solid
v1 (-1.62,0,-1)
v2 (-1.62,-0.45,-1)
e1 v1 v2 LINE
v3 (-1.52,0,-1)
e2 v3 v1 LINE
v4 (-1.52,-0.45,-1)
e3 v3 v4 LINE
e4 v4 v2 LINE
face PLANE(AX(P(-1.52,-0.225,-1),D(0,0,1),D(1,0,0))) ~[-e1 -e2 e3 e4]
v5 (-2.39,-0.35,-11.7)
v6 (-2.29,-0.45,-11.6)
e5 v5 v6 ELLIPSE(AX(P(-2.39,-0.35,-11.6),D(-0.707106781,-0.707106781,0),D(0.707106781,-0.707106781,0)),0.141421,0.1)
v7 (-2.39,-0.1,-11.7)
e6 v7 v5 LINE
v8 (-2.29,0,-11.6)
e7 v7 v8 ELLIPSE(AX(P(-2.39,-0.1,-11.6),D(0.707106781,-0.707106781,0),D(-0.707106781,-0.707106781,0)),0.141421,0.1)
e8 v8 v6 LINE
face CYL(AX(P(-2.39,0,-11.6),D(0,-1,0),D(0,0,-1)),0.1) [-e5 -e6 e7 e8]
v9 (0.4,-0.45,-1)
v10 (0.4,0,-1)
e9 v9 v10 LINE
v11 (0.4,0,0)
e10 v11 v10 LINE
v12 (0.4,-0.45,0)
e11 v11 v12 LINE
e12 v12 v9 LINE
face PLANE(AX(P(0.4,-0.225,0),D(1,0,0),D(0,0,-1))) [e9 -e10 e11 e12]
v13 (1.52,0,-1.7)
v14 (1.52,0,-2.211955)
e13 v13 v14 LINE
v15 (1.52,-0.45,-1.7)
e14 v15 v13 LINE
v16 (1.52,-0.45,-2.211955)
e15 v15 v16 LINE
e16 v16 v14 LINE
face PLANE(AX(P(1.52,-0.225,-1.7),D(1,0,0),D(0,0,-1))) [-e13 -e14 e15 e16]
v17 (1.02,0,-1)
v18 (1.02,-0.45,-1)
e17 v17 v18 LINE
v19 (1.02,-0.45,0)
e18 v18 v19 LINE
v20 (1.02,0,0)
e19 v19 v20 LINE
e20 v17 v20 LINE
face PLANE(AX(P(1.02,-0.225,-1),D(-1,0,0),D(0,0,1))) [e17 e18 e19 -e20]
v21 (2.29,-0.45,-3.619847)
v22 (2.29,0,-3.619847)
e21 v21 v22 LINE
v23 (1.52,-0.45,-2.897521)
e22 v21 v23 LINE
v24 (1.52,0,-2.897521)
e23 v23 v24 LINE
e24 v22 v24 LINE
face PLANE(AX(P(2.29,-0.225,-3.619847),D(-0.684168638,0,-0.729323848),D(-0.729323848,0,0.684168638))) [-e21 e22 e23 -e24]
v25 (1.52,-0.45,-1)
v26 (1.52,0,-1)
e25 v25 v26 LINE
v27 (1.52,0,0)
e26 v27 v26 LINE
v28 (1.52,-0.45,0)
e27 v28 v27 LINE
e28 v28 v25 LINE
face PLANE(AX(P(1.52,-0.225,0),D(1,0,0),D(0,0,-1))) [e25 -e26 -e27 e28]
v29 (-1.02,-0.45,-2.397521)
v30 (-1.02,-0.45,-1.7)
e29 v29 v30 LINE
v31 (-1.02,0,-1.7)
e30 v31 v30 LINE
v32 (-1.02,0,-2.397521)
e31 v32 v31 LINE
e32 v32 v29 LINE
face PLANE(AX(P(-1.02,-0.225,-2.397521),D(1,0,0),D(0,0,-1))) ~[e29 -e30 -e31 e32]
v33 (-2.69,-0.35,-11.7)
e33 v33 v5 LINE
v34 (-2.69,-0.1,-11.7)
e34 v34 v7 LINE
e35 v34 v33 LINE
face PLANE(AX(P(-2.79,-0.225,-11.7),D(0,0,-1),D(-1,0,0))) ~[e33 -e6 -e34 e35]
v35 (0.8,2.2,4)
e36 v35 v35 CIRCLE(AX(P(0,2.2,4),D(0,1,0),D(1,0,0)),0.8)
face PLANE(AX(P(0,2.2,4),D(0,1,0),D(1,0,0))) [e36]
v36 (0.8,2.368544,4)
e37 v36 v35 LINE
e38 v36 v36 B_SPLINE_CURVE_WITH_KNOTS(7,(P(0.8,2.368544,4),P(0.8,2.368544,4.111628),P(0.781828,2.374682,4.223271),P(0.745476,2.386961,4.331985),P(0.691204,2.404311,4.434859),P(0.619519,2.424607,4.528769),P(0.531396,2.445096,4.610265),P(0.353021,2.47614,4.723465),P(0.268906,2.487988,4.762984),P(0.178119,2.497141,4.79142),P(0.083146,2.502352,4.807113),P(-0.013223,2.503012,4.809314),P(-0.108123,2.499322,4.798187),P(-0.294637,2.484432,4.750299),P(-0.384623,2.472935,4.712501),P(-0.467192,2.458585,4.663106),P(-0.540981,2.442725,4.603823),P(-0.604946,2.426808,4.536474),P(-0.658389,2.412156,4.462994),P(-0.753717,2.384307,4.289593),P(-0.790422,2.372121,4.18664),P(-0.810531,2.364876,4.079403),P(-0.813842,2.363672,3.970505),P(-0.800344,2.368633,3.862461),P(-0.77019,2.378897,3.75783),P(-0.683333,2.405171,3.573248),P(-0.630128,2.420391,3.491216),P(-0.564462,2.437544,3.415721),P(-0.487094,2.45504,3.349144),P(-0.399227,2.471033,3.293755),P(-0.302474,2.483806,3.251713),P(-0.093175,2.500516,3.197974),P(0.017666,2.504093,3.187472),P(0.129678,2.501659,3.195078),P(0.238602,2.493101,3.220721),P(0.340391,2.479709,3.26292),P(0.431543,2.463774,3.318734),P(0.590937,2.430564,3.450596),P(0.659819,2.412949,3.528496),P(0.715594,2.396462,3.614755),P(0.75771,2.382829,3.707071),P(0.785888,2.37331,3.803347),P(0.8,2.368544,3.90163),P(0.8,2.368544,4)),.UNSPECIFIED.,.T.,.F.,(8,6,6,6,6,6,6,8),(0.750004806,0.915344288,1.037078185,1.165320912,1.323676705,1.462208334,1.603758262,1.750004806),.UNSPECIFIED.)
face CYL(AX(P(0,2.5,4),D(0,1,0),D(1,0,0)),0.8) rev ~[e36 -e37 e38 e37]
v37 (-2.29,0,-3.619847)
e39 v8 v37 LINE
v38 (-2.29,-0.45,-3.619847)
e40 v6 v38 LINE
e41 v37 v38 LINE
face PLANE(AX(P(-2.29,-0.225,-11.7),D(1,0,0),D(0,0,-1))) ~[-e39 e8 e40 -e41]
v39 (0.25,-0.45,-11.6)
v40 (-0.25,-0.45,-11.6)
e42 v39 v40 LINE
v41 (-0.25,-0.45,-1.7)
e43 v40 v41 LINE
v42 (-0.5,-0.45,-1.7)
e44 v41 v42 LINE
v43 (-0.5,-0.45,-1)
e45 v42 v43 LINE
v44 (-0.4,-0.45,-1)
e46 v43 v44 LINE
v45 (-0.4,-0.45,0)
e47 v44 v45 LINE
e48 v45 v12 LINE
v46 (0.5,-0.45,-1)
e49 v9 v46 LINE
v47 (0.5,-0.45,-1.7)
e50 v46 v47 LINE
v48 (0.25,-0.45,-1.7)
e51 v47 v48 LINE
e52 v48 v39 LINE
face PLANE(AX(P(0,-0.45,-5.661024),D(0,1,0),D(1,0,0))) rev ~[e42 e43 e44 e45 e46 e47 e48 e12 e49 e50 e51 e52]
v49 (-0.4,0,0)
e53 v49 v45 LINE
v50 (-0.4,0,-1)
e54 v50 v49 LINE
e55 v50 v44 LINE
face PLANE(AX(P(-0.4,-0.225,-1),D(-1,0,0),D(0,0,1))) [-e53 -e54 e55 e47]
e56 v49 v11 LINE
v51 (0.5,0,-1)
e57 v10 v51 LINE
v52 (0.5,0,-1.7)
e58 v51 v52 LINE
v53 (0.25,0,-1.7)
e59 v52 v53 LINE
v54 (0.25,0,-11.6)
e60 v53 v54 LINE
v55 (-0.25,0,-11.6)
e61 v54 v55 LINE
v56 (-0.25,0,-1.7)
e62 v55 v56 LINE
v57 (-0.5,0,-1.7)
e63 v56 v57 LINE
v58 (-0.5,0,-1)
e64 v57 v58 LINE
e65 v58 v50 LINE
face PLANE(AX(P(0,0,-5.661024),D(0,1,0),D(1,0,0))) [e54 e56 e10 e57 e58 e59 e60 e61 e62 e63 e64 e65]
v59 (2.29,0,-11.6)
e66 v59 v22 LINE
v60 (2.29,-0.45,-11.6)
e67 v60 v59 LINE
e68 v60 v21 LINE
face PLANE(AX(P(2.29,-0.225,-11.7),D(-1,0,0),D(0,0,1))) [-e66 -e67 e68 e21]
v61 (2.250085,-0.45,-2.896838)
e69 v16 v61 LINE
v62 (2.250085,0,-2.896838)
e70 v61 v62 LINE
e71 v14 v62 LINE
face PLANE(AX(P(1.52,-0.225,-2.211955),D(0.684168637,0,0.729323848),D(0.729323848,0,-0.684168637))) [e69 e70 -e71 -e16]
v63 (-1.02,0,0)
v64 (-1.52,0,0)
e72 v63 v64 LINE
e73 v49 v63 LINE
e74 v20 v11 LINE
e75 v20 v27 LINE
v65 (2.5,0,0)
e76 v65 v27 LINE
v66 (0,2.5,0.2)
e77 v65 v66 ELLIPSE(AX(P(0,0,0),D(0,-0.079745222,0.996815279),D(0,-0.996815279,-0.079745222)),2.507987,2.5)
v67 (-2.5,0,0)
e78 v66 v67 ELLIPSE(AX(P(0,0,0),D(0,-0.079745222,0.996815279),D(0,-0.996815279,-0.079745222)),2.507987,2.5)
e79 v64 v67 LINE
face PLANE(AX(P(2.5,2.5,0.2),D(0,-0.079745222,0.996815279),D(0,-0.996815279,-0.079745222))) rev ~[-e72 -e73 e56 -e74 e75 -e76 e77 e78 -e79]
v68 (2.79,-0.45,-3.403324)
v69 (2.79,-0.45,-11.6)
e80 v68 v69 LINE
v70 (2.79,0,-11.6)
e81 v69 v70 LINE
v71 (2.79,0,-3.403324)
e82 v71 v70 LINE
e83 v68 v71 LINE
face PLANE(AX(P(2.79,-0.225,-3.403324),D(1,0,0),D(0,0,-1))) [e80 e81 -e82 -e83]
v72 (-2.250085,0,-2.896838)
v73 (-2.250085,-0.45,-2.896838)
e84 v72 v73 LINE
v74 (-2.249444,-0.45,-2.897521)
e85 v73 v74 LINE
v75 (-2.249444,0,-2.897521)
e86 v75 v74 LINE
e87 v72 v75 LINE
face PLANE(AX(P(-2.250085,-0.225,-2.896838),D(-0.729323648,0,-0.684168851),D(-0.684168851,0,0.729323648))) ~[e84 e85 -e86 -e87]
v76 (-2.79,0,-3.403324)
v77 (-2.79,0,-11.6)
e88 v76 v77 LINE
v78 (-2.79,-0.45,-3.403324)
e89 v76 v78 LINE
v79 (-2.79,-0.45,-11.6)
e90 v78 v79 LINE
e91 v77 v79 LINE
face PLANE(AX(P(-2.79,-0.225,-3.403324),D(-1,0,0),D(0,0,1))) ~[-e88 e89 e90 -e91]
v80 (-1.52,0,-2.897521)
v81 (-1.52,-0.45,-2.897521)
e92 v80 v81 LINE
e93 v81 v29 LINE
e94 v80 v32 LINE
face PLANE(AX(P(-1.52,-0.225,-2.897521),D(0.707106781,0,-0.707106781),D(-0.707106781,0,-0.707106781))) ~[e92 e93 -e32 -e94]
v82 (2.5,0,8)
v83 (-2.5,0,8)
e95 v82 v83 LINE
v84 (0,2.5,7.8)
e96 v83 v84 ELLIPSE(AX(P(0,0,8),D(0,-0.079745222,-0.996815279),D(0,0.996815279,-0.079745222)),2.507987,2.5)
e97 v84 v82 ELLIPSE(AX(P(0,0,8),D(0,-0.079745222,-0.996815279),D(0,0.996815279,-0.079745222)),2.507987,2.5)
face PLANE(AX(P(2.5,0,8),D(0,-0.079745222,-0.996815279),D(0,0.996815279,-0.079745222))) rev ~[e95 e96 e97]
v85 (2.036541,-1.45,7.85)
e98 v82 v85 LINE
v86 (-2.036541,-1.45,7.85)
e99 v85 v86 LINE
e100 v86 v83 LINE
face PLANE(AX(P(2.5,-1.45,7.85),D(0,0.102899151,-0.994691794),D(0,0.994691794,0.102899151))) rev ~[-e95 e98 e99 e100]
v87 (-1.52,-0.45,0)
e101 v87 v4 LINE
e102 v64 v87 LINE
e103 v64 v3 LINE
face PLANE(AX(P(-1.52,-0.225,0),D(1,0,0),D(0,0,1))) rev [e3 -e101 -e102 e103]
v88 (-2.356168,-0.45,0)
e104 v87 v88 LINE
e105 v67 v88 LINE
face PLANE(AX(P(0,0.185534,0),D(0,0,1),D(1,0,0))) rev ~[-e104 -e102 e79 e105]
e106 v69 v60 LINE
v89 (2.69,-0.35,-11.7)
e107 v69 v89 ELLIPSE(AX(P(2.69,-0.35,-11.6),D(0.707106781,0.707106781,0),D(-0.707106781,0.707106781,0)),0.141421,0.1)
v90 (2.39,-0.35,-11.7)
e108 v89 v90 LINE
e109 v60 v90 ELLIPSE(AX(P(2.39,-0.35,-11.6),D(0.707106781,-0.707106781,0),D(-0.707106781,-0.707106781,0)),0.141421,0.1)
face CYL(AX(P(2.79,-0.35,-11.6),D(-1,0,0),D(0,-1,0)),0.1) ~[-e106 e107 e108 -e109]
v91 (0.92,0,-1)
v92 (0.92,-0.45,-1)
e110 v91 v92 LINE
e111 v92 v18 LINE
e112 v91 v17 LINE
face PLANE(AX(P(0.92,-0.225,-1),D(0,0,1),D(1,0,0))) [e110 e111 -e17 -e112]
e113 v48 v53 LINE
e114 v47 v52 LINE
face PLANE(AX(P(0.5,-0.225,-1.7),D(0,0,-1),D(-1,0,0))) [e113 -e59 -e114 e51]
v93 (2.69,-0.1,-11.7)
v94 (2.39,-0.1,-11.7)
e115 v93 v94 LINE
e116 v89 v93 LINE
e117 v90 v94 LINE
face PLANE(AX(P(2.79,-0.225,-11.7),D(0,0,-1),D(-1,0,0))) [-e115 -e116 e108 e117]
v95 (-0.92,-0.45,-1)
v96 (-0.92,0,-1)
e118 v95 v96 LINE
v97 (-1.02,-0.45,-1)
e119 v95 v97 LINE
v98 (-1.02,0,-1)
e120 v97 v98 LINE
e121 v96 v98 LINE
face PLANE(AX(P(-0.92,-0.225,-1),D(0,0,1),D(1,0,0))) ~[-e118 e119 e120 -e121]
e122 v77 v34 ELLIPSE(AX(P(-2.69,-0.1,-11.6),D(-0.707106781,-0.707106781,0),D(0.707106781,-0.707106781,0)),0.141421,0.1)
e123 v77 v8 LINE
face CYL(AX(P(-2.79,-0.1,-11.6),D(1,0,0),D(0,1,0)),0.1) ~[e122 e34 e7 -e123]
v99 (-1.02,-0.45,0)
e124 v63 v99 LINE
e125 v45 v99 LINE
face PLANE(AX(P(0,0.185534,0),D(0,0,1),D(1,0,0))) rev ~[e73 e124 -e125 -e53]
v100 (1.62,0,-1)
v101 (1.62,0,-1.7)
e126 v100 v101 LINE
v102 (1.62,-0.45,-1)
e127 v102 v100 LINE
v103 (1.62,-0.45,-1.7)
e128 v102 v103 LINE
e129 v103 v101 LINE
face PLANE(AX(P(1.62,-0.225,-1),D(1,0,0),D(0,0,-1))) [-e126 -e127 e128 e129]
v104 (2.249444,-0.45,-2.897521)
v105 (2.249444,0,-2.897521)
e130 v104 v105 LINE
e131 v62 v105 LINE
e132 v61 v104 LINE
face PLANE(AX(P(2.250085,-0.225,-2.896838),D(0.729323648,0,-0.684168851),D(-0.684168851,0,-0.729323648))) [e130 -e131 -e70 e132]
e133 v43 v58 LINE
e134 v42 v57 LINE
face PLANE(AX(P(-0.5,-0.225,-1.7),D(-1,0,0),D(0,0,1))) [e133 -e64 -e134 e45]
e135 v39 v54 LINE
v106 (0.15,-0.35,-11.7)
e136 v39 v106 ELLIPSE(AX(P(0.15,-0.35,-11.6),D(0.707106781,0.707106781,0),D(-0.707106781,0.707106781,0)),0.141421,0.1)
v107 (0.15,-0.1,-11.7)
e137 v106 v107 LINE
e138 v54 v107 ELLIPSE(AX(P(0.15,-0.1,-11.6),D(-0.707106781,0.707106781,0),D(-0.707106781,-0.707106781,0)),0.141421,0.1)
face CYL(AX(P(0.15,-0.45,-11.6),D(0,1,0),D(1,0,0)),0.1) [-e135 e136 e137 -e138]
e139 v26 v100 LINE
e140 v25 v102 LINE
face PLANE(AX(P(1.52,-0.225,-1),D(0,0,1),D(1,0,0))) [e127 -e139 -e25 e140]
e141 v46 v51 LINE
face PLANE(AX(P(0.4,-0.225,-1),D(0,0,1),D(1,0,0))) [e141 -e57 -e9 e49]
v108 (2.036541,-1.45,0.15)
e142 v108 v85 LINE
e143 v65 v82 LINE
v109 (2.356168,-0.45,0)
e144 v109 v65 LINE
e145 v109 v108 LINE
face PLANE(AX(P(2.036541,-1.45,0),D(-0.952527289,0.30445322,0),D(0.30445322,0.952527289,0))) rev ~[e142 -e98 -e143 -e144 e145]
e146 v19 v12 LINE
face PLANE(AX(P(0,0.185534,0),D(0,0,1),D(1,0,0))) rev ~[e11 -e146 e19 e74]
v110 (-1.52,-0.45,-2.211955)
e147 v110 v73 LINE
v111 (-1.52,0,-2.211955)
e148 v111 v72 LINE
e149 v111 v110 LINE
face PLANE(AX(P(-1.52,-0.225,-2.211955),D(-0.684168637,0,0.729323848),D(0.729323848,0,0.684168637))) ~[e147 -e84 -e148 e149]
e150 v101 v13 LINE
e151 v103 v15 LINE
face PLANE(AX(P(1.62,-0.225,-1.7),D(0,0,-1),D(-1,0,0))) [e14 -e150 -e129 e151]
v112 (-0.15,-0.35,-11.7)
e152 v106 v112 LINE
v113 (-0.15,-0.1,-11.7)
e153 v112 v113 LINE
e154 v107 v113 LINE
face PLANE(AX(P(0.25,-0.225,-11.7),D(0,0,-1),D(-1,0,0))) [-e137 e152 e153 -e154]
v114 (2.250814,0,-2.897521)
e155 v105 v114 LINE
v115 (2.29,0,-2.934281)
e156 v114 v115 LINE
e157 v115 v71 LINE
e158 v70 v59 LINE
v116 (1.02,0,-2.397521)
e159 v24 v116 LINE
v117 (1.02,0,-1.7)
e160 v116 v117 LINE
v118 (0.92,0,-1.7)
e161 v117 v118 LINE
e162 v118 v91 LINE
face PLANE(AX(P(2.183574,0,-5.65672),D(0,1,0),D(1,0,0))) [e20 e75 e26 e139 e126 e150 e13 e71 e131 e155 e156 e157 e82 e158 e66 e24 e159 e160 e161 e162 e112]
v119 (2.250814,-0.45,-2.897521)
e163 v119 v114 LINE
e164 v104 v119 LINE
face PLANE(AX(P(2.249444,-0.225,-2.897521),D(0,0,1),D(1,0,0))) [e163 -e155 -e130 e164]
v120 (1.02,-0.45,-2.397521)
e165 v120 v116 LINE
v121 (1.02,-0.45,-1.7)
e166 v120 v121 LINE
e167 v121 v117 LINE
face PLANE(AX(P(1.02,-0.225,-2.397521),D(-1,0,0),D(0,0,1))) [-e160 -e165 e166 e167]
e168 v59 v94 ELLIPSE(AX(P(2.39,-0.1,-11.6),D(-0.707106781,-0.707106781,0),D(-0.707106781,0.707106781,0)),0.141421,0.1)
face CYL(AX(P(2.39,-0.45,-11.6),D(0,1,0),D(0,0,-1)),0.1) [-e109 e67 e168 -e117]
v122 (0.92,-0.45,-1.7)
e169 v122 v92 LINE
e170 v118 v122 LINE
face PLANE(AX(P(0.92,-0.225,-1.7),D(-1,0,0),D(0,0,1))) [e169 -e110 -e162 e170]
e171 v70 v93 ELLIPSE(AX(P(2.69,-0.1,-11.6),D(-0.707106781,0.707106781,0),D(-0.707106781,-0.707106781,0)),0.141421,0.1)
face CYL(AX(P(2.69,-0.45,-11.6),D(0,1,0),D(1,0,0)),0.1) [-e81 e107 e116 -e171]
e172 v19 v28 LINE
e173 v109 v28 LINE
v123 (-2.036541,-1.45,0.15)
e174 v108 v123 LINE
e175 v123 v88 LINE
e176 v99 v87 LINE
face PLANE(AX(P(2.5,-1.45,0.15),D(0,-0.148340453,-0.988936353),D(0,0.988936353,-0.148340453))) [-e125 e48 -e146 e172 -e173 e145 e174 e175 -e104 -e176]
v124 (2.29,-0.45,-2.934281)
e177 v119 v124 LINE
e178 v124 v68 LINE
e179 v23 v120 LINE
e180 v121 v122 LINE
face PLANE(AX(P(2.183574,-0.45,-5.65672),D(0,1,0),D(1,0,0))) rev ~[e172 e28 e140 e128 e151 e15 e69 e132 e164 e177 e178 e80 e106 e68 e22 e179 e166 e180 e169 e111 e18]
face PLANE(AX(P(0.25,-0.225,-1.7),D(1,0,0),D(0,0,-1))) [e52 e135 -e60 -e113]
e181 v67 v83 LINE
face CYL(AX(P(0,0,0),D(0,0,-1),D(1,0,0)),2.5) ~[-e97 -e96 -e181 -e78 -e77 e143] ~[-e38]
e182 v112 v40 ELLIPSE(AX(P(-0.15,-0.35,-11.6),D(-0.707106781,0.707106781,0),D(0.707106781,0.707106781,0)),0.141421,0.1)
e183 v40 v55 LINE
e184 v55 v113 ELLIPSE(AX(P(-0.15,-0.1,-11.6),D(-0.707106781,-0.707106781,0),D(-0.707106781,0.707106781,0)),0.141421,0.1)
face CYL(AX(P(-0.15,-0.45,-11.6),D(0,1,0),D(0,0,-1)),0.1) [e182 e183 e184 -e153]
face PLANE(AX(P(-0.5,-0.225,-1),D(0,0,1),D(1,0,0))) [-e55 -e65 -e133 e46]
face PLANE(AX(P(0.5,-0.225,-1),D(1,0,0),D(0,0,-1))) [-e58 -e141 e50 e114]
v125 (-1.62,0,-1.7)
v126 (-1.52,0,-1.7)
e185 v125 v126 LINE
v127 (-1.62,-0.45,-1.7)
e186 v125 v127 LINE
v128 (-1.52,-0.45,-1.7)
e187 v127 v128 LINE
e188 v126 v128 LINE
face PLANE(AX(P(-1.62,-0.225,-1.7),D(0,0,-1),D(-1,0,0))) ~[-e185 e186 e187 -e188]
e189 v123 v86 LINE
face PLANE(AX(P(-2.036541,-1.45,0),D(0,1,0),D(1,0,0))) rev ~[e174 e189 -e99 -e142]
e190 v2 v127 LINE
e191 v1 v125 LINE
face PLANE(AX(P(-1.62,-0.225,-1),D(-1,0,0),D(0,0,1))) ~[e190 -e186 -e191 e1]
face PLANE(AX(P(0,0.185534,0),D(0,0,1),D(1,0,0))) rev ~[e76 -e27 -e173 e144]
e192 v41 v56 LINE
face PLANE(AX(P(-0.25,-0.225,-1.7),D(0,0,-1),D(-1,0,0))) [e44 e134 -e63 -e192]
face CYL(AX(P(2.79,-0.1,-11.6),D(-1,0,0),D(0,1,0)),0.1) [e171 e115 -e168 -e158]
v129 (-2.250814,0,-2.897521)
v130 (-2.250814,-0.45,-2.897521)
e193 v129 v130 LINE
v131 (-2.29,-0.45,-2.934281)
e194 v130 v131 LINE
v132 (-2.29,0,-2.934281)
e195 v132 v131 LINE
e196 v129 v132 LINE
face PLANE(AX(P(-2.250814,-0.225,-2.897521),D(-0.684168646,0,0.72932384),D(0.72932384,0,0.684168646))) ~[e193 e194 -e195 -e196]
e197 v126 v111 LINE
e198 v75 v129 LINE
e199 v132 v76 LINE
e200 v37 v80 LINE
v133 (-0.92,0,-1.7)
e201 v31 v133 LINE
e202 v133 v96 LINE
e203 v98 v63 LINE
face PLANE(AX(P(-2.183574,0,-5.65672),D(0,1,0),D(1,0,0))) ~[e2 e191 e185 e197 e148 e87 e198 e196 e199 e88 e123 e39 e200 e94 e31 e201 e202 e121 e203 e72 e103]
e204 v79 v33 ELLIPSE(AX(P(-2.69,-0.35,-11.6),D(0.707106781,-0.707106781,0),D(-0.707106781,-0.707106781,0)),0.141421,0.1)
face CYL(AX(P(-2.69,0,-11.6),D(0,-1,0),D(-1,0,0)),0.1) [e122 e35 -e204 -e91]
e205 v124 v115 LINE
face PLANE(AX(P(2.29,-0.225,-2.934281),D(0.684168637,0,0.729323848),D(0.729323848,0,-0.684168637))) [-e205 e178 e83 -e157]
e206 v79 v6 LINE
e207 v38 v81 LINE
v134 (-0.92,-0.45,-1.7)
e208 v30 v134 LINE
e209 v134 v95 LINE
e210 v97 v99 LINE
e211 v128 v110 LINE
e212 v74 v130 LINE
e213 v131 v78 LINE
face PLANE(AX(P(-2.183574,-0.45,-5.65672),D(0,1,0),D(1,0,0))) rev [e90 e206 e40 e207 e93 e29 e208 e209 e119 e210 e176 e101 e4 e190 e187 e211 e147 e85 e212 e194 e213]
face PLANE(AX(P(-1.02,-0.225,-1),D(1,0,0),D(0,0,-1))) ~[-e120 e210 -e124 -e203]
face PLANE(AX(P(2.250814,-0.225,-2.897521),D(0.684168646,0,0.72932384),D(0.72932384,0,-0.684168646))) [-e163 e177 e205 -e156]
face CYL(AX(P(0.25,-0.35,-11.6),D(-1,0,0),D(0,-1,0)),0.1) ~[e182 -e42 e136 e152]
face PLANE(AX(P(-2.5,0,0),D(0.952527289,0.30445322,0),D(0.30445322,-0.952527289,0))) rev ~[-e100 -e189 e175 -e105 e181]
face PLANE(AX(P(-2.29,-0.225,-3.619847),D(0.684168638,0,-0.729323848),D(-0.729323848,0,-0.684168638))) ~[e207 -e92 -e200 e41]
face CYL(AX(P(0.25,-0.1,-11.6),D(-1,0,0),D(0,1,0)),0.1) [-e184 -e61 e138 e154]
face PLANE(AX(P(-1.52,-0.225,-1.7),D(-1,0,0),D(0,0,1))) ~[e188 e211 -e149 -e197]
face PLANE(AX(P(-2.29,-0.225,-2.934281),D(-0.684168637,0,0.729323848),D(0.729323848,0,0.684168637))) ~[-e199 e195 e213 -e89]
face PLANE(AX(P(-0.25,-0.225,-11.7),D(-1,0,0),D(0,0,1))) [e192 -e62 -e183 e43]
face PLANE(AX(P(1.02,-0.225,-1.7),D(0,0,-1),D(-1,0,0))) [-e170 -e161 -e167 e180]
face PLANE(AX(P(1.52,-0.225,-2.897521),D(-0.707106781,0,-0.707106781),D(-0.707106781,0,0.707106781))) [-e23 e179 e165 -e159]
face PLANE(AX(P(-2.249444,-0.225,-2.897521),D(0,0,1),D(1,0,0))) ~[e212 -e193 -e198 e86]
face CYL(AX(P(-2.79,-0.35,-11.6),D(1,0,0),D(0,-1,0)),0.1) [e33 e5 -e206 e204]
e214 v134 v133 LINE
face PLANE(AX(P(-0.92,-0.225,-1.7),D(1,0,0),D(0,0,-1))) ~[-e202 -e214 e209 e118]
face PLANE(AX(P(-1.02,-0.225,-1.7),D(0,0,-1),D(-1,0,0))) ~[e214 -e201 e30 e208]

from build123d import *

# Parameters (mm, degrees)
BOSS_EXTRUDE2_DEPTH = 8
BOSS_EXTRUDE3_DEPTH = 0.225
BOSS_EXTRUDE4_DEPTH = 0.225
BOSS_EXTRUDE7_DEPTH = 0.225
BOSS_EXTRUDE8_DEPTH = 0.225
CUT_EXTRUDE1_DEPTH  = 5
CUT_EXTRUDE2_DEPTH  = 5
CUT_EXTRUDE3_DEPTH  = 5
CUT_EXTRUDE7_DEPTH  = 5
FILLET2_R           = 0.1
SKETCH13_R          = 0.8
CUT_EXTRUDE8_DEPTH  = 0.3


with BuildPart() as part:
    # Sketch1 → Boss-Extrude2 (new body)
    with BuildSketch(Plane.XY):
        with BuildLine():
            Line((-2.036541185, -1.45), (2.036541185, -1.45))
            Line((2.036541185, -1.45), (2.5, 0))
            ThreePointArc((2.5, 0), (0, 2.5), (-2.5, 0))
            Line((-2.5, 0), (-2.036541185, -1.45))
        make_face()
    extrude(amount=BOSS_EXTRUDE2_DEPTH)

    # Sketch3 → Boss-Extrude3 (add)
    with BuildSketch(Plane(origin=(0, -0.225, 0), x_dir=(1, 0, 0), z_dir=(0, 1, 0))):
        Polygon((-0.4, 0), (0.4, 0), (0.4, 1), (0.5, 1), (0.5, 1.7), (0.25, 1.7), (0.25, 11.7), (-0.25, 11.7), (-0.25, 1.7), (-0.5, 1.7), (-0.5, 1), (-0.4, 1), align=None)
    extrude(amount=BOSS_EXTRUDE3_DEPTH)

    # Sketch3<3> → Boss-Extrude4 (add)
    with BuildSketch(Plane(origin=(0, -0.225, 0), x_dir=(1, 0, 0), z_dir=(0, 1, 0))):
        Polygon((-0.4, 0), (0.4, 0), (0.4, 1), (0.5, 1), (0.5, 1.7), (0.25, 1.7), (0.25, 11.7), (-0.25, 11.7), (-0.25, 1.7), (-0.5, 1.7), (-0.5, 1), (-0.4, 1), align=None)
    extrude(amount=-BOSS_EXTRUDE4_DEPTH)

    # Sketch7 → Boss-Extrude7 (add)
    with BuildSketch(Plane(origin=(0, -0.225, 0), x_dir=(1, 0, 0), z_dir=(0, 1, 0))):
        Polygon((1.02, 1), (1.02, 0), (1.27, 0), (1.52, 0), (1.52, 1), (1.62, 1), (1.62, 1.7), (1.52, 1.7), (1.52, 2.211954512), (2.250085443, 2.896837591), (2.249444332, 2.897521015), (2.250813973, 2.897521015), (2.29, 2.934280887), (2.79, 3.403323987), (2.79, 4.08889049), (2.79, 11.7), (2.29, 11.7), (2.29, 3.61984739), (1.52, 2.897521015), (1.02, 2.397521015), (1.02, 2.211954512), (1.02, 1.7), (0.92, 1.7), (0.92, 1), align=None)
    boss_extrude7 = extrude(amount=BOSS_EXTRUDE7_DEPTH)

    # Sketch7<7> → Boss-Extrude8 (add)
    with BuildSketch(Plane(origin=(0, -0.225, 0), x_dir=(1, 0, 0), z_dir=(0, 1, 0))):
        Polygon((1.02, 1), (1.02, 0), (1.27, 0), (1.52, 0), (1.52, 1), (1.62, 1), (1.62, 1.7), (1.52, 1.7), (1.52, 2.211954512), (2.250085443, 2.896837591), (2.249444332, 2.897521015), (2.250813973, 2.897521015), (2.29, 2.934280887), (2.79, 3.403323987), (2.79, 4.08889049), (2.79, 11.7), (2.29, 11.7), (2.29, 3.61984739), (1.52, 2.897521015), (1.02, 2.397521015), (1.02, 2.211954512), (1.02, 1.7), (0.92, 1.7), (0.92, 1), align=None)
    boss_extrude8 = extrude(amount=-BOSS_EXTRUDE8_DEPTH)

    # Mirror2: Boss-Extrude7, Boss-Extrude8 across plane
    add(boss_extrude7.mirror(Plane(origin=(0, 0, 0), x_dir=(0, 0, 1), z_dir=(1, 0, 0))))
    add(boss_extrude8.mirror(Plane(origin=(0, 0, 0), x_dir=(0, 0, 1), z_dir=(1, 0, 0))))

    # Sketch9 → Cut-Extrude1 (cut)
    with BuildSketch(Plane(origin=(2.5, 0, 0), x_dir=(0, 0, -1), z_dir=(1, 0, 0))):
        Polygon((-8, 0), (-7.8, 2.5), (-8, 2.5), align=None)
    extrude(amount=-CUT_EXTRUDE1_DEPTH, mode=Mode.SUBTRACT)

    # Sketch10 → Cut-Extrude2 (cut)
    with BuildSketch(Plane(origin=(2.5, 0, 0), x_dir=(0, 0, -1), z_dir=(1, 0, 0))):
        Polygon((-8, 0), (-8, -1.45), (-7.85, -1.45), align=None)
    extrude(amount=-CUT_EXTRUDE2_DEPTH, mode=Mode.SUBTRACT)

    # Sketch11 → Cut-Extrude3 (cut)
    with BuildSketch(Plane(origin=(2.5, 0, 0), x_dir=(0, 0, -1), z_dir=(1, 0, 0))):
        Polygon((-0.2, 2.5), (0, 0), (0, 2.5), align=None)
    extrude(amount=-CUT_EXTRUDE3_DEPTH, mode=Mode.SUBTRACT)

    # Sketch12 → Cut-Extrude7 (cut)
    with BuildSketch(Plane(origin=(2.5, 0, 0), x_dir=(0, 0, -1), z_dir=(1, 0, 0))):
        Polygon((0, -0.45), (0, -1.45), (-0.15, -1.45), align=None)
    extrude(amount=-CUT_EXTRUDE7_DEPTH, mode=Mode.SUBTRACT)

    # Fillet2
    fillet2_edges = [part.edges().sort_by_distance(p)[0] for p in [
        (2.54, -0.45, -11.7),
        (0, 0, -11.7),
        (0.25, -0.225, -11.7),
        (-2.29, -0.225, -11.7),
        (-2.79, -0.225, -11.7),
        (-0.25, -0.225, -11.7),
        (-2.54, 0, -11.7),
        (-2.54, -0.45, -11.7),
        (0, -0.45, -11.7),
        (2.54, 0, -11.7),
        (2.79, -0.225, -11.7),
        (2.29, -0.225, -11.7),
    ]]
    fillet(fillet2_edges, radius=FILLET2_R)

    # Sketch13 → Cut-Extrude8 (cut)
    with BuildSketch(Plane(origin=(0, 2.5, 0), x_dir=(1, 0, 0), z_dir=(0, 1, 0))):
        with Locations((0, -4)):
            Circle(SKETCH13_R)
    extrude(amount=-CUT_EXTRUDE8_DEPTH, mode=Mode.SUBTRACT)


solid = part.part
